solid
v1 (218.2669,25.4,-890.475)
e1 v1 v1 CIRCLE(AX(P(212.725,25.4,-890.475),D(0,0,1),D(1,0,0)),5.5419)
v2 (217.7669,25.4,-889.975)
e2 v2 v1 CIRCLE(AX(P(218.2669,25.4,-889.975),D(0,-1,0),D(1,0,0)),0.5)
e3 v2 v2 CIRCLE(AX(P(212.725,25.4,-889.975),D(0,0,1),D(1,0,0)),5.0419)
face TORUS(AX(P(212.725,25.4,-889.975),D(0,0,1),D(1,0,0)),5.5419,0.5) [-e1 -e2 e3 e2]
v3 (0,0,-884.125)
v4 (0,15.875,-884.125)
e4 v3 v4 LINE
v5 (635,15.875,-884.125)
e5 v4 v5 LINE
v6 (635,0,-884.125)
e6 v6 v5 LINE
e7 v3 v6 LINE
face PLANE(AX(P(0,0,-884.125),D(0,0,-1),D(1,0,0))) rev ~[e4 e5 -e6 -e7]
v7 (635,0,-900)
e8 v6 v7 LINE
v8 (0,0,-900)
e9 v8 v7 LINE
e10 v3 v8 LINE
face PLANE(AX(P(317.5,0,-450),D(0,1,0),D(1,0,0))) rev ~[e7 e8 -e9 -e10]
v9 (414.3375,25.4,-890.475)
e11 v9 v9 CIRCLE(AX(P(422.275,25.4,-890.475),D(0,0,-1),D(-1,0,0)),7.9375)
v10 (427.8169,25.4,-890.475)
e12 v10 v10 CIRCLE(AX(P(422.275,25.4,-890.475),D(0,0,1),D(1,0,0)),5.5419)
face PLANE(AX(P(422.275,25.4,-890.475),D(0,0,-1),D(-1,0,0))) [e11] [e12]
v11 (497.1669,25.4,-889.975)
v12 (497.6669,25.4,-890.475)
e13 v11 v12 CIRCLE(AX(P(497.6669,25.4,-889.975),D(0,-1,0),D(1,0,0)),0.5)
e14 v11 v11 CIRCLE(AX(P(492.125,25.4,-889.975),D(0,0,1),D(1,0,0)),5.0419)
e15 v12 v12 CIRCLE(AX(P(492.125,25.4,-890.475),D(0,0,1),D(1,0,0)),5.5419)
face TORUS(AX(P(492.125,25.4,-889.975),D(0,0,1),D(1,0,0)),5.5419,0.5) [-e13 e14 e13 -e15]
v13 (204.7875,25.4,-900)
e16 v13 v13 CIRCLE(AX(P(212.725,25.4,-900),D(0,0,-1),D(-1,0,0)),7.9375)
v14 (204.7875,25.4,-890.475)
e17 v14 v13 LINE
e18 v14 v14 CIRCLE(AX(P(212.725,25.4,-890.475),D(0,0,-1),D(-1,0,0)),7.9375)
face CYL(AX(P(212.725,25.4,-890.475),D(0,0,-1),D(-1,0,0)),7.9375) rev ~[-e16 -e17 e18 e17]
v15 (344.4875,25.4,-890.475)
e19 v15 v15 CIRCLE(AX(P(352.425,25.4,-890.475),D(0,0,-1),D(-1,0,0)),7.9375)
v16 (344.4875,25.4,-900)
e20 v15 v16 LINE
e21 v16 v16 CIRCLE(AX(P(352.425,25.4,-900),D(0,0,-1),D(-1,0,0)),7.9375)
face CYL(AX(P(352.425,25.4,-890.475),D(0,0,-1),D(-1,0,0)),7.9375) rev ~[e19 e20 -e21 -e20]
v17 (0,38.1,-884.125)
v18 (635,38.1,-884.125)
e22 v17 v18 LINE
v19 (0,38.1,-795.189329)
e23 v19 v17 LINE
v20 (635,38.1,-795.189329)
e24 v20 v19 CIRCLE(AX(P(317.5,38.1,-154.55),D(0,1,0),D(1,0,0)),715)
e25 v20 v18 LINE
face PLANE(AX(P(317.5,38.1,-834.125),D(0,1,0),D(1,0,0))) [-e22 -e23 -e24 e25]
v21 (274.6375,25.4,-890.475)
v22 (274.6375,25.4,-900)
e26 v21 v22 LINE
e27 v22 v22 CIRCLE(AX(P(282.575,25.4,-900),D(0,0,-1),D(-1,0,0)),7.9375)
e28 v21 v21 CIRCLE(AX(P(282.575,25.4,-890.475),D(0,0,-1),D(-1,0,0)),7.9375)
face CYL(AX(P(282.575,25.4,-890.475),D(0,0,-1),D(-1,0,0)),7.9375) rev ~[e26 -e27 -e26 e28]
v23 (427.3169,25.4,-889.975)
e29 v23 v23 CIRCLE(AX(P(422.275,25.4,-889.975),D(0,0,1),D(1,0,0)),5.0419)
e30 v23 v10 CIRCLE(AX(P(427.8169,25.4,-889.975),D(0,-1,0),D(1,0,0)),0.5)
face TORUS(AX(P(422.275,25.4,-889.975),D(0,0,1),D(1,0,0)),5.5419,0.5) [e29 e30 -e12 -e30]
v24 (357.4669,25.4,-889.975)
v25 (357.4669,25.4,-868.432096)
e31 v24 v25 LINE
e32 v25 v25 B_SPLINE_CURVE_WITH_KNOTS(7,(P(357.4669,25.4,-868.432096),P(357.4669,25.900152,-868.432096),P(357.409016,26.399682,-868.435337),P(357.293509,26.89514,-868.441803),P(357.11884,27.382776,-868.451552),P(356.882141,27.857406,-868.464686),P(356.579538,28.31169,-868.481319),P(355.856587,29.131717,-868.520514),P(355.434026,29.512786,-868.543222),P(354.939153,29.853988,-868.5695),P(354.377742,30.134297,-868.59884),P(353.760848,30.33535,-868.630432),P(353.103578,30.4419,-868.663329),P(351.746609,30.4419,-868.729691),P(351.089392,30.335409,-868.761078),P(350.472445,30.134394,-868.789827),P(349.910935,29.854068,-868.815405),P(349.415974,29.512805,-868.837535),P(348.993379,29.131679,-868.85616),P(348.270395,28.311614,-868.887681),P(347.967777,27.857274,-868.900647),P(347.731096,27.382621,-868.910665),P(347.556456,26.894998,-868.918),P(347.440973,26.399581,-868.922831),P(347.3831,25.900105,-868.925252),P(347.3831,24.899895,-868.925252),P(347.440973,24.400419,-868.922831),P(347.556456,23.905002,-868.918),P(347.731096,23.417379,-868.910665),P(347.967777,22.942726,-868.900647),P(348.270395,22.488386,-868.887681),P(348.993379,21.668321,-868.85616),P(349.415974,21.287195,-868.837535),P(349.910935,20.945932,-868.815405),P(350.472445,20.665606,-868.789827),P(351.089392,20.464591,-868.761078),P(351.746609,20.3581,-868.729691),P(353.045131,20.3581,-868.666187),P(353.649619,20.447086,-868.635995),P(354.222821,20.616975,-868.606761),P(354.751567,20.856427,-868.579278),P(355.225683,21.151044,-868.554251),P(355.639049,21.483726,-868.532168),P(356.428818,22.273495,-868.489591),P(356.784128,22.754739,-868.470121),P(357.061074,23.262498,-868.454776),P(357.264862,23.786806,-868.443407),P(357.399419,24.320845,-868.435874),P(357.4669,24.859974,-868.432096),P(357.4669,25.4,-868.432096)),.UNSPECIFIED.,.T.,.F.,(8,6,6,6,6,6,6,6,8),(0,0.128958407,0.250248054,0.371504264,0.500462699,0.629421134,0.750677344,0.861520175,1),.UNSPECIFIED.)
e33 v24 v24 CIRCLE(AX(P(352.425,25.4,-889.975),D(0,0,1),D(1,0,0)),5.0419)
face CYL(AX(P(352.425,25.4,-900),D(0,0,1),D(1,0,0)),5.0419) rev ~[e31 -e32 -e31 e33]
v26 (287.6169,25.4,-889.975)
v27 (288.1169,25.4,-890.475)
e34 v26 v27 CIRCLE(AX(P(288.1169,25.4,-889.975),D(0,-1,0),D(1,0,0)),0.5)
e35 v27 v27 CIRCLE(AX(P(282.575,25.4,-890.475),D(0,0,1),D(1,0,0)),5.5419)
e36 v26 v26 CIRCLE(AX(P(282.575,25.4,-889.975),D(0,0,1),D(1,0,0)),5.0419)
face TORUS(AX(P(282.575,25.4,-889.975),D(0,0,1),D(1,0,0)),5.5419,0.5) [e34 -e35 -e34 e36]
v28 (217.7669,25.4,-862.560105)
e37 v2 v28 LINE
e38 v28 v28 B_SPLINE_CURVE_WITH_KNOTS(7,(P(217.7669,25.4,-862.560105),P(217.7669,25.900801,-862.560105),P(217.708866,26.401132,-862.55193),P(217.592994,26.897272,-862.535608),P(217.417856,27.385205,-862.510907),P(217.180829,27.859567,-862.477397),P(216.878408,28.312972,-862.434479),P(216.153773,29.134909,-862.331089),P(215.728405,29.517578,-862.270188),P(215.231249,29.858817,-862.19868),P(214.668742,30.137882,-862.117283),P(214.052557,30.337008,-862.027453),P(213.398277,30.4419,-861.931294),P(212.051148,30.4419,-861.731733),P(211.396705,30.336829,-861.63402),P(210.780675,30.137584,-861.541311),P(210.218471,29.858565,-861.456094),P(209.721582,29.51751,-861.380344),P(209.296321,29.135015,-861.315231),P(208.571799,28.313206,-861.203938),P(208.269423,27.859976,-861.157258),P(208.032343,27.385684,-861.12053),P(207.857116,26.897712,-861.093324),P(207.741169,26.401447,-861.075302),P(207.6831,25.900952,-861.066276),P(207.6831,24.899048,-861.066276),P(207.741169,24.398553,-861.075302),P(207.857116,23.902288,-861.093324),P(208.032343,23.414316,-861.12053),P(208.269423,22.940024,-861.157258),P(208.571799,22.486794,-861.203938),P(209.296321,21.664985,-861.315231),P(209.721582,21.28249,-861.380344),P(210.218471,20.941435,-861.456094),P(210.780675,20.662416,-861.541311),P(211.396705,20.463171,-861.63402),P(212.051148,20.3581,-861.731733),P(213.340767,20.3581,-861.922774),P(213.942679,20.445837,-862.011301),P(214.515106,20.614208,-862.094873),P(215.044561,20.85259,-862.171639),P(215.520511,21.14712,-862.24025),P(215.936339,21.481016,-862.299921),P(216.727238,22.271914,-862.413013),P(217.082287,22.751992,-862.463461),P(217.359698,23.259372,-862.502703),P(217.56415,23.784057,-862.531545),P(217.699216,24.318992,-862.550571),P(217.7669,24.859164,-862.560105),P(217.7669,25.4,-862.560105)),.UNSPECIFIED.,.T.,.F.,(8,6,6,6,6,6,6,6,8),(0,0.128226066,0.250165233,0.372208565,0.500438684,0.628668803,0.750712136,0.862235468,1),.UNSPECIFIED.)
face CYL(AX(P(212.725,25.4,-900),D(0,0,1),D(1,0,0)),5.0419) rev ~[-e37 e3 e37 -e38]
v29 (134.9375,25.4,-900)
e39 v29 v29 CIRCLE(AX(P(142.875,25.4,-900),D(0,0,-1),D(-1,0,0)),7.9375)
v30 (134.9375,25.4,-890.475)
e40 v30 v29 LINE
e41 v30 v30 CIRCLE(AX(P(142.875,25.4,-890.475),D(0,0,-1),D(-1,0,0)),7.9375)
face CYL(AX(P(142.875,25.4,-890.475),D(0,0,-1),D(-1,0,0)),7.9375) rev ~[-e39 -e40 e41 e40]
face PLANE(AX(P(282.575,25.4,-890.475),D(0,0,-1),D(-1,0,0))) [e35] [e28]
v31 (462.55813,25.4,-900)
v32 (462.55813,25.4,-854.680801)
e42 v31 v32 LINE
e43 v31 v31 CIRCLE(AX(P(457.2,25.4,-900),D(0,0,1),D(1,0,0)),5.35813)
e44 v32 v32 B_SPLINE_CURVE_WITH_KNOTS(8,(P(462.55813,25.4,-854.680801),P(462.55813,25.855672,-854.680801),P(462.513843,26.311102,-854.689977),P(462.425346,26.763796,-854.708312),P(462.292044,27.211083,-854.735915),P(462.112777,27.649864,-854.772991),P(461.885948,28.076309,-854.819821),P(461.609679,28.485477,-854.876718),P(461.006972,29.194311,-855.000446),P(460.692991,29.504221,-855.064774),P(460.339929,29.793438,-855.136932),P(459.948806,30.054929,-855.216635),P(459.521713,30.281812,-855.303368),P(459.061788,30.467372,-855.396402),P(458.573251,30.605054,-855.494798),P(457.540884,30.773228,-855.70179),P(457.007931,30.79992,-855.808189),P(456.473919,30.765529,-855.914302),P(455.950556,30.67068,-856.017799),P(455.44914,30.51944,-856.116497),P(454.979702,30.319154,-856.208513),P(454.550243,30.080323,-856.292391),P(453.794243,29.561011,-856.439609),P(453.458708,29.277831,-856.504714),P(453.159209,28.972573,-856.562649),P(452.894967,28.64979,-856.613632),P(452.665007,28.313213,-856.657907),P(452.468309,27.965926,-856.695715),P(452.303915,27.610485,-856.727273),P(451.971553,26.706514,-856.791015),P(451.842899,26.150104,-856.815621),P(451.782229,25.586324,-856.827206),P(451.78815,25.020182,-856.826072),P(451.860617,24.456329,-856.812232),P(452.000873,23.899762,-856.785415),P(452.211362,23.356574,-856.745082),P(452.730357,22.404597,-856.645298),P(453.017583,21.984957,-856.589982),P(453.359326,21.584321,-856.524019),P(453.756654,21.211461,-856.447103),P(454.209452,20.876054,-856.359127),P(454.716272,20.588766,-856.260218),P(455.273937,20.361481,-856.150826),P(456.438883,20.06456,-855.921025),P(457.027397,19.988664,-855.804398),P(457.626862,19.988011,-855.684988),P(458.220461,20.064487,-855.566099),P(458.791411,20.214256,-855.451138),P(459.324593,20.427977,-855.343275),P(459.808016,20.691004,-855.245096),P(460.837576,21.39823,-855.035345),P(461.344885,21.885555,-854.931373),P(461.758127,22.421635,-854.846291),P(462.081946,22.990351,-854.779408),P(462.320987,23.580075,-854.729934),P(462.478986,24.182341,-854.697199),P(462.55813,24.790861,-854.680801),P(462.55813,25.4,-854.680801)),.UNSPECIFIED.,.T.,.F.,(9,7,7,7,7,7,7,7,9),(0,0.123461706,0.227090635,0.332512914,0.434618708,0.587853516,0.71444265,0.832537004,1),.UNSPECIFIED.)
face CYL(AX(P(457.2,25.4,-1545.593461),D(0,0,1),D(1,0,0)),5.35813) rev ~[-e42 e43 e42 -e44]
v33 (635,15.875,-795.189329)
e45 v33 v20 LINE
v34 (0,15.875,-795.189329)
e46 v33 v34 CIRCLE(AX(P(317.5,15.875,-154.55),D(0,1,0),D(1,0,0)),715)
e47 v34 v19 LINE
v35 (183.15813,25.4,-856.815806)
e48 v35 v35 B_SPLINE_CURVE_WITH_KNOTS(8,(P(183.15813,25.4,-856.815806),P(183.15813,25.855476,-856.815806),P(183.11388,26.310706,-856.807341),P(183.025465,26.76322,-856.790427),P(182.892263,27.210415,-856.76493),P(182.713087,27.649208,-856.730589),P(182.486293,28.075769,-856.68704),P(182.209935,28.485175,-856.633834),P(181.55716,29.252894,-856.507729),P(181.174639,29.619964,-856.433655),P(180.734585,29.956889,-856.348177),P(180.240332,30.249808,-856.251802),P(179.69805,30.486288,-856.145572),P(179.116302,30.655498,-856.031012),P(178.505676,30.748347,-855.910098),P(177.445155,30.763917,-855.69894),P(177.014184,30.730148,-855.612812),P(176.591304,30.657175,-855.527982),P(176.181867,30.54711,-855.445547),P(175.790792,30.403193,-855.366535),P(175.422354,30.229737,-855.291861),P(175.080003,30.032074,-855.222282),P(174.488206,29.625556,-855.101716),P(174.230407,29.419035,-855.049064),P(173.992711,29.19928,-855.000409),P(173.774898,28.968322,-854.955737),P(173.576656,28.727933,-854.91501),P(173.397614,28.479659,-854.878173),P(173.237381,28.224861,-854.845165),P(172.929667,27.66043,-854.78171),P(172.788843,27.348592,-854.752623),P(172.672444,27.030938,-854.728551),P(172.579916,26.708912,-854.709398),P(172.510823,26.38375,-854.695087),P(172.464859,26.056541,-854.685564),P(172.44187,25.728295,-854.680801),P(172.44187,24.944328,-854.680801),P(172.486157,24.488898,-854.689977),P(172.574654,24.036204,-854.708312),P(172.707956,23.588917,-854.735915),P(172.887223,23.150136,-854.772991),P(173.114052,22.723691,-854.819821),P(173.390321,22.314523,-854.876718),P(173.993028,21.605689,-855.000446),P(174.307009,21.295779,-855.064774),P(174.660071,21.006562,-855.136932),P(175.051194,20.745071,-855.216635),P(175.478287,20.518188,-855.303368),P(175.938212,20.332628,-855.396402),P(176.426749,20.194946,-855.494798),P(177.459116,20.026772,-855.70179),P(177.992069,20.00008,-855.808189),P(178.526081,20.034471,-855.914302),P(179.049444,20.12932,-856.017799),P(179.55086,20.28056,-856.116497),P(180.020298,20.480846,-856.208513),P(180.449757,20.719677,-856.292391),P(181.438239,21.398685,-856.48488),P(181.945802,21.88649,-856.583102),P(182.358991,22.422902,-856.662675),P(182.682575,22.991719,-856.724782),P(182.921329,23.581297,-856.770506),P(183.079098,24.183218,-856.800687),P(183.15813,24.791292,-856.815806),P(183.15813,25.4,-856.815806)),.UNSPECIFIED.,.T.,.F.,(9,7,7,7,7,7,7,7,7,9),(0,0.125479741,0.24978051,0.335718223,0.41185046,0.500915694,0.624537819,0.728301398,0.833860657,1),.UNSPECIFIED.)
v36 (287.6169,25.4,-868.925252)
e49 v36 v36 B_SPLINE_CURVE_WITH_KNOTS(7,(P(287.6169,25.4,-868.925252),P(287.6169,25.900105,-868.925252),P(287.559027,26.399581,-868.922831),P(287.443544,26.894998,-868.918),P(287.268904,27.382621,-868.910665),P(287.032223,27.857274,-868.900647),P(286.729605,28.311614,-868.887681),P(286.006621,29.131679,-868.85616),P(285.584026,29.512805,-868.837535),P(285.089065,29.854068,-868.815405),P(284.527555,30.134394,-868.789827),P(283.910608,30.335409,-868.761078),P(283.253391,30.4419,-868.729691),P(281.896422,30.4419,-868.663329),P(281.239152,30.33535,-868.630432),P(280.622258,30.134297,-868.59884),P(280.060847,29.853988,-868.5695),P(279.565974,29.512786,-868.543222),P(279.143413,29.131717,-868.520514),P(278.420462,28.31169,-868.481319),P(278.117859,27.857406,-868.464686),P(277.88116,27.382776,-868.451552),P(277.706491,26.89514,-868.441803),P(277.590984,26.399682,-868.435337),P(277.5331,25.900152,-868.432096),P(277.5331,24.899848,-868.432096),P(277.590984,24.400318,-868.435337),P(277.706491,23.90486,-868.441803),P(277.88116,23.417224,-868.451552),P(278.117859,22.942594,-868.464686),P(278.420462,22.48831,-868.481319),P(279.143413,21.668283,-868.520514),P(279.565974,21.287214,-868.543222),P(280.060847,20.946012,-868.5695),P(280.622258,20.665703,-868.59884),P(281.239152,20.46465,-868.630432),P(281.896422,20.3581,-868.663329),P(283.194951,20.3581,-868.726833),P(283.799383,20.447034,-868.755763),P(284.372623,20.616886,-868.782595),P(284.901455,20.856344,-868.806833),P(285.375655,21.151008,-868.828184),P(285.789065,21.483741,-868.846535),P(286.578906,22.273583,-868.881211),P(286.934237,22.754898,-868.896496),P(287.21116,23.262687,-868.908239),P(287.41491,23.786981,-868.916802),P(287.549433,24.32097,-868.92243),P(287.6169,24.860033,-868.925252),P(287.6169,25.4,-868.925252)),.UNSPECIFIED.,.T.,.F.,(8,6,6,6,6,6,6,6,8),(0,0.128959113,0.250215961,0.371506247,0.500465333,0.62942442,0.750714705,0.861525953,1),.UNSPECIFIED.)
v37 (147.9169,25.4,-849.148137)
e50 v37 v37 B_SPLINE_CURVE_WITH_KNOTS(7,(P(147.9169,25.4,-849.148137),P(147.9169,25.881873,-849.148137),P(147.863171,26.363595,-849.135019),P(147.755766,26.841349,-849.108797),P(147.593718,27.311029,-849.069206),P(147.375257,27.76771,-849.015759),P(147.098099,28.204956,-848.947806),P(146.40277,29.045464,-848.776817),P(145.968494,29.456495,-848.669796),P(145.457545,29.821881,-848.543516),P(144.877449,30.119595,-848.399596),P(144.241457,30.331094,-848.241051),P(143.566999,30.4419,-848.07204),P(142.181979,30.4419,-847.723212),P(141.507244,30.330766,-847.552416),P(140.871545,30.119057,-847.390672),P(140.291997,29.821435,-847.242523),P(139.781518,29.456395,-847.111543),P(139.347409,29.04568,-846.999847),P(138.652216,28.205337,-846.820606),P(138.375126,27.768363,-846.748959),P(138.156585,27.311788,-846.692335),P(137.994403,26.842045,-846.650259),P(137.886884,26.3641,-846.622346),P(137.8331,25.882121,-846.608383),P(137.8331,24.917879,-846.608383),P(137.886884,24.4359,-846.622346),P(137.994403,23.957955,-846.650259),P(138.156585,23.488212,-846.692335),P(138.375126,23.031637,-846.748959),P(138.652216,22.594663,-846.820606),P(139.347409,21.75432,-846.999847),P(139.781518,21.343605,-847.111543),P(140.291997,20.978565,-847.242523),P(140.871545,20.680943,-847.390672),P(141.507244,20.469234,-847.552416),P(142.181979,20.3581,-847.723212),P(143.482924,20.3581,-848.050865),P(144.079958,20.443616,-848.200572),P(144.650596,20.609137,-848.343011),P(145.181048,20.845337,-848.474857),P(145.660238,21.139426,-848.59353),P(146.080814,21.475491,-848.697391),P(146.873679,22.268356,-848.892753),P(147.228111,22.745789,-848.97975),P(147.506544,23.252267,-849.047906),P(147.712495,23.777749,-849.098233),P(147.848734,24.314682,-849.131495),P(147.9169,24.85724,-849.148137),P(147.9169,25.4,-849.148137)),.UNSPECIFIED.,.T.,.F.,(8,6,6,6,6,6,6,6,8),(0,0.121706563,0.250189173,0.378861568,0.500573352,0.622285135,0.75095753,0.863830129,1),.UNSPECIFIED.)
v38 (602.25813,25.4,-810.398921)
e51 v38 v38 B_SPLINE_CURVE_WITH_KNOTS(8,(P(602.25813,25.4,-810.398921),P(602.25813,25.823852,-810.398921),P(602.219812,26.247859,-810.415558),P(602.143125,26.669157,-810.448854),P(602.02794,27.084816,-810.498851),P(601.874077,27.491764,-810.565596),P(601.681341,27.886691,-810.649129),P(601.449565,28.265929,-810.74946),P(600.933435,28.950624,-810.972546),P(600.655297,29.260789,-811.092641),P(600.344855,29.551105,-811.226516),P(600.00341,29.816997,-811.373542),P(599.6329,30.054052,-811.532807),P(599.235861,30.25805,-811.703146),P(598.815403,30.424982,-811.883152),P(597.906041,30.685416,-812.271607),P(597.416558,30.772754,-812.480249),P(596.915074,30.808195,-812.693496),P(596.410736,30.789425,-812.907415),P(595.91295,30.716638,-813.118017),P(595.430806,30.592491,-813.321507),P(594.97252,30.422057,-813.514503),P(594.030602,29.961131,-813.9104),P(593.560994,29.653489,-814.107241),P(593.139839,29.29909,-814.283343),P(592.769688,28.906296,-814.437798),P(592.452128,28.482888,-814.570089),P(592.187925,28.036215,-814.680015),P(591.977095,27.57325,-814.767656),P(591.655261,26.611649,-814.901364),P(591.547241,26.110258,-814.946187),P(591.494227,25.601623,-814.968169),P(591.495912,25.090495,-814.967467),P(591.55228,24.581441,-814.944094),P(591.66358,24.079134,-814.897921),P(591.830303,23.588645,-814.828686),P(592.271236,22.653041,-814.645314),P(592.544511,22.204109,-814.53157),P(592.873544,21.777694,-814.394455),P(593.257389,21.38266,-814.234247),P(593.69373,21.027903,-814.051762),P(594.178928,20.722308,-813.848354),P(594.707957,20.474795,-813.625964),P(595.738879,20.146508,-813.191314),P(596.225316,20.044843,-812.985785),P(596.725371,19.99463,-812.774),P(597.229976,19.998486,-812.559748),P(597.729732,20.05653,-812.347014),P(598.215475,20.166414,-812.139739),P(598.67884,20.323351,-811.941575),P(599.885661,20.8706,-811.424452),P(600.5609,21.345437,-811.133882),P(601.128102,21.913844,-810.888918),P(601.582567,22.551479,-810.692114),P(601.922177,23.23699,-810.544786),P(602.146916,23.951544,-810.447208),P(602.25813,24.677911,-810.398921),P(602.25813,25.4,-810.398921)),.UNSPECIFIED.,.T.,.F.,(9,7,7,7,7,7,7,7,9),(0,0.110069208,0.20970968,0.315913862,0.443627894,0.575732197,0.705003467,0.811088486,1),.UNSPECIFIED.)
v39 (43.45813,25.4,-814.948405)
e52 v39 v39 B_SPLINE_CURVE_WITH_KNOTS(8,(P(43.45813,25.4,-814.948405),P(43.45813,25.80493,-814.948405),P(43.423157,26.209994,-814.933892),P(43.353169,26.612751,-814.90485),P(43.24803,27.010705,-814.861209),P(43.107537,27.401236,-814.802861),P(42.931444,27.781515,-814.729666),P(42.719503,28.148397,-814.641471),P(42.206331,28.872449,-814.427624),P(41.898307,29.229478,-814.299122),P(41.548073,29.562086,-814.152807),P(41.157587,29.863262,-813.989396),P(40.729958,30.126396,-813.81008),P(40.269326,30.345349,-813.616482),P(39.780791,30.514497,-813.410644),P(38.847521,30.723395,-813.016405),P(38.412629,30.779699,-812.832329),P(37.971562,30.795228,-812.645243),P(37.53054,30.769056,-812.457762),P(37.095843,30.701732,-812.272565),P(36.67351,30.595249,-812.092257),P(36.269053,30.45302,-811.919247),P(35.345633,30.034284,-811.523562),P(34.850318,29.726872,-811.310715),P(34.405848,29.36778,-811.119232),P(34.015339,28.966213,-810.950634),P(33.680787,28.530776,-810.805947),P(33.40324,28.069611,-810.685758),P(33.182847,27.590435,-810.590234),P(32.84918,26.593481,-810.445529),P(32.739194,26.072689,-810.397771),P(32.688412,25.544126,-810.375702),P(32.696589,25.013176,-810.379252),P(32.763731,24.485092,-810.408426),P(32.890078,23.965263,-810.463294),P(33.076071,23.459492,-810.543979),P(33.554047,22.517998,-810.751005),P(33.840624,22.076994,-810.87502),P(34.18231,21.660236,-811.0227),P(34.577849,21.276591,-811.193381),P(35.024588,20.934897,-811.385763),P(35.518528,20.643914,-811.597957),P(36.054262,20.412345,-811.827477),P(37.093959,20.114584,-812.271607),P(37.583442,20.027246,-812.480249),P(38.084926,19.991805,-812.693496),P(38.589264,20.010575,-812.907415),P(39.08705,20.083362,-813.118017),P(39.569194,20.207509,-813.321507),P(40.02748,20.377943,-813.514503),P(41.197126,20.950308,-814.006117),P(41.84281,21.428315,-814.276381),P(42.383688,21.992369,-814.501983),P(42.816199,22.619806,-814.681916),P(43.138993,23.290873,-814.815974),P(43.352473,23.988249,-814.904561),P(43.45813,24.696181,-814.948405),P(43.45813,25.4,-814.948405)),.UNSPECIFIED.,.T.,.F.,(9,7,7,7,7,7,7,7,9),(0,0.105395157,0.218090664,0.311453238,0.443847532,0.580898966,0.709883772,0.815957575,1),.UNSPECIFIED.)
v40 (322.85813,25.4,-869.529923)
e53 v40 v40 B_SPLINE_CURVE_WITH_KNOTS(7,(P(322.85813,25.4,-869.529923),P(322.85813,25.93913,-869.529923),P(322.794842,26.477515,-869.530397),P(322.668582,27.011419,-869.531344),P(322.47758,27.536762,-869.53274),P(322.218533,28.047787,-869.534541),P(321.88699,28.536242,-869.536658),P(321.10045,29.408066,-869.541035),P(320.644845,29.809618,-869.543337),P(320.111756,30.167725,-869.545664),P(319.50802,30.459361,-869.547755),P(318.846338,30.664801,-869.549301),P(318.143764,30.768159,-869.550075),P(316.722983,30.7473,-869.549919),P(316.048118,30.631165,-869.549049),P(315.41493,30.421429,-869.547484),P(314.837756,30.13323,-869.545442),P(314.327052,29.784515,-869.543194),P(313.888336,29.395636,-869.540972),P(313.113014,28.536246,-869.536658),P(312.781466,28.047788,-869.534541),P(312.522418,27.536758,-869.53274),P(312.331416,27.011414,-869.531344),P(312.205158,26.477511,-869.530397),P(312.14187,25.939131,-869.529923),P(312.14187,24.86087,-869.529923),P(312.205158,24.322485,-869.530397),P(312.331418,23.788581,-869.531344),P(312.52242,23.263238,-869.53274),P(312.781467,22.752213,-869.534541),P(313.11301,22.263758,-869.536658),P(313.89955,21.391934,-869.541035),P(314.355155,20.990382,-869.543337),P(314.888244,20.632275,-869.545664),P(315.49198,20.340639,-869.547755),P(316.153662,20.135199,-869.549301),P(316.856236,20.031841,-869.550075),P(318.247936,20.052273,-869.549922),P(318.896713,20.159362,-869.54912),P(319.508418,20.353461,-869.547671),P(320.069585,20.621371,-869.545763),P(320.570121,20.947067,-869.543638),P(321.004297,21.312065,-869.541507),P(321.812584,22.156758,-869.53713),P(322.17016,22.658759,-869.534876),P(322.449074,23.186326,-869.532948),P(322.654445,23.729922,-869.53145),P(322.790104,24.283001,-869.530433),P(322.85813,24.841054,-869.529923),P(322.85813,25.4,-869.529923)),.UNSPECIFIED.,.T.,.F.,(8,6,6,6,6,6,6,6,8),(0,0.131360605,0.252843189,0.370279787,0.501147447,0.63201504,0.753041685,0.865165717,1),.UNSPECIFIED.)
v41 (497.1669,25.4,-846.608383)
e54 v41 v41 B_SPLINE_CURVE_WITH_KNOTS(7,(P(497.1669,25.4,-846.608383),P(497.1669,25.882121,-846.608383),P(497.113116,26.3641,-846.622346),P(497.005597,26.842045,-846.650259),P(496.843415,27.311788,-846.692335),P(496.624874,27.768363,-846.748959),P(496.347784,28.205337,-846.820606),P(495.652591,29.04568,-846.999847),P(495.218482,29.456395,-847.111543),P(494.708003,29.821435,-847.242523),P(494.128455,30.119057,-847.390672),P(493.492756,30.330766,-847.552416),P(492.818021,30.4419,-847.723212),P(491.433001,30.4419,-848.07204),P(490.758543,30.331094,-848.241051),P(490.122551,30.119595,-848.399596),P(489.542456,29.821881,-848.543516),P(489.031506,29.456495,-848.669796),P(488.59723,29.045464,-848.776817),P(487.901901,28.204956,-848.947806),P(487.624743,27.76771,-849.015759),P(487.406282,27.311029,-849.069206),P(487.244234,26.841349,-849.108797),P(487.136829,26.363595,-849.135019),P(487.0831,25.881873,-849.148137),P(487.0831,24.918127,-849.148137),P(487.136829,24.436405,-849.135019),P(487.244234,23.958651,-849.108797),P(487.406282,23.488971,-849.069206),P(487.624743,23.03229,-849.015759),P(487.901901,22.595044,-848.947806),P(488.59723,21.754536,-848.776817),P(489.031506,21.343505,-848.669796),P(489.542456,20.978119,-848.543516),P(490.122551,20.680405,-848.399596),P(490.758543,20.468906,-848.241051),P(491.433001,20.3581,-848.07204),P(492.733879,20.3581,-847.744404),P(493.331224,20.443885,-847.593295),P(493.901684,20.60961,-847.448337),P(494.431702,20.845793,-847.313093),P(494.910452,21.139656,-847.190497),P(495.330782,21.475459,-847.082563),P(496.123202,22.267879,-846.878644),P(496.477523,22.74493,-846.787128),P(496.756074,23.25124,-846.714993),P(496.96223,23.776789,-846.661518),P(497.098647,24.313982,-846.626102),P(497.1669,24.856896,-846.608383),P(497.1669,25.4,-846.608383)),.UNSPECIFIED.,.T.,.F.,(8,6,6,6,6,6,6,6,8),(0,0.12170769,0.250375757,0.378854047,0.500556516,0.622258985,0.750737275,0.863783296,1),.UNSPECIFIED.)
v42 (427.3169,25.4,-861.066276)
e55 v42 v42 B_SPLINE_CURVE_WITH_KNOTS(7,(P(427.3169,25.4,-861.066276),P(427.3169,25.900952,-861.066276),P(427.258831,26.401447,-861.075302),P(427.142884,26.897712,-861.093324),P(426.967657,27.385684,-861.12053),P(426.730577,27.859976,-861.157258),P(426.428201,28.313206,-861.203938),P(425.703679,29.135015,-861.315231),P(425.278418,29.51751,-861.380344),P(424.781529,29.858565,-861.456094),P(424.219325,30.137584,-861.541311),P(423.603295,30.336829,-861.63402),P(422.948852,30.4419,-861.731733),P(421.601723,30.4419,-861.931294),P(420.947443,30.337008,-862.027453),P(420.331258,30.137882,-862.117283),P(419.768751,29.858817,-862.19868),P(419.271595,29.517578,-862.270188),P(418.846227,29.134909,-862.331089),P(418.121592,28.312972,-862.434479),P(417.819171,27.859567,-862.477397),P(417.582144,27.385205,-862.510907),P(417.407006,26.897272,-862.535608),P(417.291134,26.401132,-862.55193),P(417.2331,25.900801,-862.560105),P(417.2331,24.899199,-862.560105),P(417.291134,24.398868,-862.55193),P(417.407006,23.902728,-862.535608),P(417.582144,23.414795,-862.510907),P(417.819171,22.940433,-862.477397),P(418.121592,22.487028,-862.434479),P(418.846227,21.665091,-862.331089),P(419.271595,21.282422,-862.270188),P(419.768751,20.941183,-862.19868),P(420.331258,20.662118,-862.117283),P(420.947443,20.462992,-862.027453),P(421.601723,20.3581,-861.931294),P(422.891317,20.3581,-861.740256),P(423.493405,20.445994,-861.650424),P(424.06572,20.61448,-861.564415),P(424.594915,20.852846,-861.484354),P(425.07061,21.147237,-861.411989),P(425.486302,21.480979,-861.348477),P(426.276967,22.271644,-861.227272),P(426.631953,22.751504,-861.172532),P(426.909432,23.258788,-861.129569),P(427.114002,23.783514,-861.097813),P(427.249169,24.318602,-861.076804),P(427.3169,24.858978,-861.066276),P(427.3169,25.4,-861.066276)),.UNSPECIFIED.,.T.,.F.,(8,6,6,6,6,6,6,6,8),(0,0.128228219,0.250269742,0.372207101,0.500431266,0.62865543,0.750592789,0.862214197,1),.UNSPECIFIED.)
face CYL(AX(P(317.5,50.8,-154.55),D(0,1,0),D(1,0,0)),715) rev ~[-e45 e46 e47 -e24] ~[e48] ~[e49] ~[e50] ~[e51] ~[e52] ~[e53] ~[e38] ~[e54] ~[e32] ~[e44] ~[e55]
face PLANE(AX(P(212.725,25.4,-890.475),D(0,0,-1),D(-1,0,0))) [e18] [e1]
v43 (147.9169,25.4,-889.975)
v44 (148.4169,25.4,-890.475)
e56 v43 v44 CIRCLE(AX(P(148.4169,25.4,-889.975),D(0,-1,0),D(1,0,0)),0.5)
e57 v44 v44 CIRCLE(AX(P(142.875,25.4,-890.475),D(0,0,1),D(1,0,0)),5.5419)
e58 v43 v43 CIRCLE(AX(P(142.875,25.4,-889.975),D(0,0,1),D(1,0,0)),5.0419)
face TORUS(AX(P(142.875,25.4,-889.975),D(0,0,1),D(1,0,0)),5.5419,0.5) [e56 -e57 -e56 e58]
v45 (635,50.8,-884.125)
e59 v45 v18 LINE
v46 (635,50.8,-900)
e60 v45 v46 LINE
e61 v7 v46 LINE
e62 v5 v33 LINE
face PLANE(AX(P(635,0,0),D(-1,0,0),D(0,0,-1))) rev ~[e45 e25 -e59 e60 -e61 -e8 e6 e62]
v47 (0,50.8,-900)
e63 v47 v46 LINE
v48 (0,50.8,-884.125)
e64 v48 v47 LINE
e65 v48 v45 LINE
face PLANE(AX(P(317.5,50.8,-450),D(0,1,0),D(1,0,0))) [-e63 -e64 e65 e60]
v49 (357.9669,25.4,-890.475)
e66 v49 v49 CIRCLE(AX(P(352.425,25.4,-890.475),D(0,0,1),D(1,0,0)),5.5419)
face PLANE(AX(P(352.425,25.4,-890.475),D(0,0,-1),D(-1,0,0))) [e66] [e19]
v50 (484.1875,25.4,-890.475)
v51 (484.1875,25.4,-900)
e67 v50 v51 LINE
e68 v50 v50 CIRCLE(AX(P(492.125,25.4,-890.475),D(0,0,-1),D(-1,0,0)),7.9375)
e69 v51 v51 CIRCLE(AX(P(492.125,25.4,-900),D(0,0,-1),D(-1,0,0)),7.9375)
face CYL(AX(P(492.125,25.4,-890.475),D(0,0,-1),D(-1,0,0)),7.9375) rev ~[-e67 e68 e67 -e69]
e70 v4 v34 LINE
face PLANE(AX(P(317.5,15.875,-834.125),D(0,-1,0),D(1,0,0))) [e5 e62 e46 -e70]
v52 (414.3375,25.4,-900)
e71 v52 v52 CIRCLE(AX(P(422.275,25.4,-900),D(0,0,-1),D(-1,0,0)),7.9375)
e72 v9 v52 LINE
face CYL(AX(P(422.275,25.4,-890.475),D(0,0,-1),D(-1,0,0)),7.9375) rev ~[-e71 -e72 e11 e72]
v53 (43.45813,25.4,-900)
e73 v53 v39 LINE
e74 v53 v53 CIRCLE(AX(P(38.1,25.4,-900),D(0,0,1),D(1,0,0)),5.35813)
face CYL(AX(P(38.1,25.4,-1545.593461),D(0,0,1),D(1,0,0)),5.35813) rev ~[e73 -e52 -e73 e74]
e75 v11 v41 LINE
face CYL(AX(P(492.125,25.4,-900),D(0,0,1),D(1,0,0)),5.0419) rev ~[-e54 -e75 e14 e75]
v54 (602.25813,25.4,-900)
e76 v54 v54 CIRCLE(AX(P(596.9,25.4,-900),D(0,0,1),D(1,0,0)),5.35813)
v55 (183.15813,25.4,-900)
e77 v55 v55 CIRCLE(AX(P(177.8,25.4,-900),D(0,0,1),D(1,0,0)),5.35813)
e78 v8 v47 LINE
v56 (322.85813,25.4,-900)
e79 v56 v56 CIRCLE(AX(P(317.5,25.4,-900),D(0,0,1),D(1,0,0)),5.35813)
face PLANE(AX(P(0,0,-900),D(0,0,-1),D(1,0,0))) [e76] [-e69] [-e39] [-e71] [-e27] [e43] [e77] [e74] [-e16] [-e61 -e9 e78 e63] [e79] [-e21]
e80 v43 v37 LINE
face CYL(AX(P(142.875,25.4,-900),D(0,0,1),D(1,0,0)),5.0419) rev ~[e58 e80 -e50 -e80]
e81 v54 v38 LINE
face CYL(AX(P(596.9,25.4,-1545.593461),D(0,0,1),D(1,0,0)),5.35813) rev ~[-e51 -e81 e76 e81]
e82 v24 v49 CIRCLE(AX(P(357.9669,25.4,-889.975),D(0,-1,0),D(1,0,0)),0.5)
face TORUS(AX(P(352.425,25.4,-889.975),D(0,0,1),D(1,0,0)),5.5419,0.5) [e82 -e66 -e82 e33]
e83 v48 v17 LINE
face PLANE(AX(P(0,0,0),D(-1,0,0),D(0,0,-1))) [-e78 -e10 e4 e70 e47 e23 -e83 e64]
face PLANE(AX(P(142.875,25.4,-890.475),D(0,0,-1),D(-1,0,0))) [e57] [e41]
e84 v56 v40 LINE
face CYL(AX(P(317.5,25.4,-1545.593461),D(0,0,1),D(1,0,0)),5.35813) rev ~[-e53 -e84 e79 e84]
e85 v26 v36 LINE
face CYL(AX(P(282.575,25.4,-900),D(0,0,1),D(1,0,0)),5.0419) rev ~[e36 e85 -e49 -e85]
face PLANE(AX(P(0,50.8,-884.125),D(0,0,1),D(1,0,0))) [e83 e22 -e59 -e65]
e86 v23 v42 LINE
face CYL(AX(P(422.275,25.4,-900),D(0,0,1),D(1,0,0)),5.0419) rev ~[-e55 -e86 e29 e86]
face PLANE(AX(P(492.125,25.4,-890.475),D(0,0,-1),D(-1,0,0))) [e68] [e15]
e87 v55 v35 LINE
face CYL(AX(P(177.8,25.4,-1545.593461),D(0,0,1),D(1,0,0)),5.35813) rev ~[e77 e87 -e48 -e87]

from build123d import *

# Parameters (mm, degrees)
SKETCH1_W                                        = 635
SKETCH1_H                                        = 900
BOSS_EXTRUDE1_DEPTH                              = 50.8
F_3_8_0_375_DIAMETER_HOLE1_D                     = 9.525
F_1_1_DIAMETER_HOLE1_D                           = 25.4
CIRPATTERN1_COUNT                                = 60
SKETCH9_R                                        = 715
CUT_EXTRUDE1_DEPTH                               = 1103.635769418
CBORE_FOR_3_8_SOCKET_HEAD_CAP_SCREW1_D           = 10.0838
CBORE_FOR_3_8_SOCKET_HEAD_CAP_SCREW1_CBORE_D     = 15.875
CBORE_FOR_3_8_SOCKET_HEAD_CAP_SCREW1_CBORE_DEPTH = 9.525
FILLET1_R                                        = 0.5
LPATTERN1_COUNT                                  = 6
LPATTERN1_PITCH                                  = 69.85
FILLET1_OF_LPATTERN1_R                           = 0.5
F_1_2_13_TAPPED_HOLE1_D                          = 10.71626
LPATTERN2_COUNT                                  = 5
LPATTERN2_PITCH                                  = 139.7
SKETCH19_W                                       = 635
SKETCH19_H                                       = 100
CUT_EXTRUDE2_DEPTH                               = 15.875
SKETCH20_W                                       = 635
SKETCH20_H                                       = 100
CUT_EXTRUDE3_DEPTH                               = 12.7


with BuildPart() as part:
    # Sketch1 → Boss-Extrude1 (new body)
    with BuildSketch(Plane(origin=(0, 0, 0), x_dir=(1, 0, 0), z_dir=(0, 1, 0))):
        with Locations((317.5, 450)):
            Rectangle(SKETCH1_W, SKETCH1_H)
    extrude(amount=BOSS_EXTRUDE1_DEPTH)

    # 3/8 (0.375) Diameter Hole1 (through all)
    with Locations(Plane(origin=(0, 50.8, 0), x_dir=(-1, 0, 0), z_dir=(0, 1, 0))):
        with Locations((-317.5, -855.55)):
            f_3_8_0_375_diameter_hole1 = Hole(F_3_8_0_375_DIAMETER_HOLE1_D / 2)

    # 1 (1) Diameter Hole1 (through all)
    with Locations(Plane(origin=(0, 50.8, 0), x_dir=(1, 0, 0), z_dir=(0, 1, 0))):
        with Locations((317.5, 154.55)):
            Hole(F_1_1_DIAMETER_HOLE1_D / 2)

    # CirPattern1: 3/8 (0.375) Diameter Hole1 ×60 about axis, 51 skipped
    cirpattern1_axis = Axis((317.5, 50.8, -154.55), (0, 1, 0))
    add([f_3_8_0_375_diameter_hole1.rotate(cirpattern1_axis, i * 360 / CIRPATTERN1_COUNT) for i in range(1, CIRPATTERN1_COUNT) if i not in (5, 6, 7, 8, 9, 10, 11, 12, 13, 14, 15, 16, 17, 18, 19, 20, 21, 22, 23, 24, 25, 26, 27, 28, 29, 30, 31, 32, 33, 34, 35, 36, 37, 38, 39, 40, 41, 42, 43, 44, 45, 46, 47, 48, 49, 50, 51, 52, 53, 54, 55)], mode=Mode.SUBTRACT)

    # Sketch9 → Cut-Extrude1 (cut, through all)
    with BuildSketch(Plane(origin=(0, 50.8, 0), x_dir=(1, 0, 0), z_dir=(0, 1, 0))):
        with Locations((317.5, 154.55)):
            Circle(SKETCH9_R)
    extrude(amount=-CUT_EXTRUDE1_DEPTH, mode=Mode.SUBTRACT)

    # CBORE for 3/8 Socket Head Cap Screw1 (through all)
    with Locations(Plane(origin=(0, 0, -900), x_dir=(-1, 0, 0), z_dir=(0, 0, -1))):
        with Locations((-492.125, 25.4)):
            cbore_for_3_8_socket_head_cap_screw1 = CounterBoreHole(CBORE_FOR_3_8_SOCKET_HEAD_CAP_SCREW1_D / 2, CBORE_FOR_3_8_SOCKET_HEAD_CAP_SCREW1_CBORE_D / 2, CBORE_FOR_3_8_SOCKET_HEAD_CAP_SCREW1_CBORE_DEPTH)

    # Fillet1
    fillet1_edges = [part.edges().sort_by_distance(p)[0] for p in [
        (487.0831, 25.4, -890.475),
    ]]
    fillet(fillet1_edges, radius=FILLET1_R)

    # LPattern1: CBORE for 3/8 Socket Head Cap Screw1 ×6
    with Locations(*[(-i * LPATTERN1_PITCH, 0, 0) for i in range(1, LPATTERN1_COUNT)]):
        add(cbore_for_3_8_socket_head_cap_screw1, mode=Mode.SUBTRACT)

    # Fillet1 of LPattern1
    fillet1_of_lpattern1_edges = [part.edges().sort_by_distance(p)[0] for p in [
        (417.2331, 25.4, -890.475),
        (347.3831, 25.4, -890.475),
        (277.5331, 25.4, -890.475),
        (207.6831, 25.4, -890.475),
        (137.8331, 25.4, -890.475),
    ]]
    fillet(fillet1_of_lpattern1_edges, radius=FILLET1_OF_LPATTERN1_R)

    # 1/2-13 Tapped Hole1 (through all)
    with Locations(Plane(origin=(0, 0, -900), x_dir=(-1, 0, 0), z_dir=(0, 0, -1))):
        with Locations((-596.9, 25.4)):
            f_1_2_13_tapped_hole1 = Hole(F_1_2_13_TAPPED_HOLE1_D / 2)

    # LPattern2: 1/2-13 Tapped Hole1 ×5
    with Locations(*[(-i * LPATTERN2_PITCH, 0, 0) for i in range(1, LPATTERN2_COUNT)]):
        add(f_1_2_13_tapped_hole1, mode=Mode.SUBTRACT)

    # Sketch19 → Cut-Extrude2 (cut)
    with BuildSketch(Plane.XZ):
        with Locations((317.5, -834.125)):
            Rectangle(SKETCH19_W, SKETCH19_H)
    extrude(amount=-CUT_EXTRUDE2_DEPTH, mode=Mode.SUBTRACT)

    # Sketch20 → Cut-Extrude3 (cut)
    with BuildSketch(Plane(origin=(0, 50.8, 0), x_dir=(1, 0, 0), z_dir=(0, 1, 0))):
        with Locations((317.5, 834.125)):
            Rectangle(SKETCH20_W, SKETCH20_H)
    extrude(amount=-CUT_EXTRUDE3_DEPTH, mode=Mode.SUBTRACT)


solid = part.part
